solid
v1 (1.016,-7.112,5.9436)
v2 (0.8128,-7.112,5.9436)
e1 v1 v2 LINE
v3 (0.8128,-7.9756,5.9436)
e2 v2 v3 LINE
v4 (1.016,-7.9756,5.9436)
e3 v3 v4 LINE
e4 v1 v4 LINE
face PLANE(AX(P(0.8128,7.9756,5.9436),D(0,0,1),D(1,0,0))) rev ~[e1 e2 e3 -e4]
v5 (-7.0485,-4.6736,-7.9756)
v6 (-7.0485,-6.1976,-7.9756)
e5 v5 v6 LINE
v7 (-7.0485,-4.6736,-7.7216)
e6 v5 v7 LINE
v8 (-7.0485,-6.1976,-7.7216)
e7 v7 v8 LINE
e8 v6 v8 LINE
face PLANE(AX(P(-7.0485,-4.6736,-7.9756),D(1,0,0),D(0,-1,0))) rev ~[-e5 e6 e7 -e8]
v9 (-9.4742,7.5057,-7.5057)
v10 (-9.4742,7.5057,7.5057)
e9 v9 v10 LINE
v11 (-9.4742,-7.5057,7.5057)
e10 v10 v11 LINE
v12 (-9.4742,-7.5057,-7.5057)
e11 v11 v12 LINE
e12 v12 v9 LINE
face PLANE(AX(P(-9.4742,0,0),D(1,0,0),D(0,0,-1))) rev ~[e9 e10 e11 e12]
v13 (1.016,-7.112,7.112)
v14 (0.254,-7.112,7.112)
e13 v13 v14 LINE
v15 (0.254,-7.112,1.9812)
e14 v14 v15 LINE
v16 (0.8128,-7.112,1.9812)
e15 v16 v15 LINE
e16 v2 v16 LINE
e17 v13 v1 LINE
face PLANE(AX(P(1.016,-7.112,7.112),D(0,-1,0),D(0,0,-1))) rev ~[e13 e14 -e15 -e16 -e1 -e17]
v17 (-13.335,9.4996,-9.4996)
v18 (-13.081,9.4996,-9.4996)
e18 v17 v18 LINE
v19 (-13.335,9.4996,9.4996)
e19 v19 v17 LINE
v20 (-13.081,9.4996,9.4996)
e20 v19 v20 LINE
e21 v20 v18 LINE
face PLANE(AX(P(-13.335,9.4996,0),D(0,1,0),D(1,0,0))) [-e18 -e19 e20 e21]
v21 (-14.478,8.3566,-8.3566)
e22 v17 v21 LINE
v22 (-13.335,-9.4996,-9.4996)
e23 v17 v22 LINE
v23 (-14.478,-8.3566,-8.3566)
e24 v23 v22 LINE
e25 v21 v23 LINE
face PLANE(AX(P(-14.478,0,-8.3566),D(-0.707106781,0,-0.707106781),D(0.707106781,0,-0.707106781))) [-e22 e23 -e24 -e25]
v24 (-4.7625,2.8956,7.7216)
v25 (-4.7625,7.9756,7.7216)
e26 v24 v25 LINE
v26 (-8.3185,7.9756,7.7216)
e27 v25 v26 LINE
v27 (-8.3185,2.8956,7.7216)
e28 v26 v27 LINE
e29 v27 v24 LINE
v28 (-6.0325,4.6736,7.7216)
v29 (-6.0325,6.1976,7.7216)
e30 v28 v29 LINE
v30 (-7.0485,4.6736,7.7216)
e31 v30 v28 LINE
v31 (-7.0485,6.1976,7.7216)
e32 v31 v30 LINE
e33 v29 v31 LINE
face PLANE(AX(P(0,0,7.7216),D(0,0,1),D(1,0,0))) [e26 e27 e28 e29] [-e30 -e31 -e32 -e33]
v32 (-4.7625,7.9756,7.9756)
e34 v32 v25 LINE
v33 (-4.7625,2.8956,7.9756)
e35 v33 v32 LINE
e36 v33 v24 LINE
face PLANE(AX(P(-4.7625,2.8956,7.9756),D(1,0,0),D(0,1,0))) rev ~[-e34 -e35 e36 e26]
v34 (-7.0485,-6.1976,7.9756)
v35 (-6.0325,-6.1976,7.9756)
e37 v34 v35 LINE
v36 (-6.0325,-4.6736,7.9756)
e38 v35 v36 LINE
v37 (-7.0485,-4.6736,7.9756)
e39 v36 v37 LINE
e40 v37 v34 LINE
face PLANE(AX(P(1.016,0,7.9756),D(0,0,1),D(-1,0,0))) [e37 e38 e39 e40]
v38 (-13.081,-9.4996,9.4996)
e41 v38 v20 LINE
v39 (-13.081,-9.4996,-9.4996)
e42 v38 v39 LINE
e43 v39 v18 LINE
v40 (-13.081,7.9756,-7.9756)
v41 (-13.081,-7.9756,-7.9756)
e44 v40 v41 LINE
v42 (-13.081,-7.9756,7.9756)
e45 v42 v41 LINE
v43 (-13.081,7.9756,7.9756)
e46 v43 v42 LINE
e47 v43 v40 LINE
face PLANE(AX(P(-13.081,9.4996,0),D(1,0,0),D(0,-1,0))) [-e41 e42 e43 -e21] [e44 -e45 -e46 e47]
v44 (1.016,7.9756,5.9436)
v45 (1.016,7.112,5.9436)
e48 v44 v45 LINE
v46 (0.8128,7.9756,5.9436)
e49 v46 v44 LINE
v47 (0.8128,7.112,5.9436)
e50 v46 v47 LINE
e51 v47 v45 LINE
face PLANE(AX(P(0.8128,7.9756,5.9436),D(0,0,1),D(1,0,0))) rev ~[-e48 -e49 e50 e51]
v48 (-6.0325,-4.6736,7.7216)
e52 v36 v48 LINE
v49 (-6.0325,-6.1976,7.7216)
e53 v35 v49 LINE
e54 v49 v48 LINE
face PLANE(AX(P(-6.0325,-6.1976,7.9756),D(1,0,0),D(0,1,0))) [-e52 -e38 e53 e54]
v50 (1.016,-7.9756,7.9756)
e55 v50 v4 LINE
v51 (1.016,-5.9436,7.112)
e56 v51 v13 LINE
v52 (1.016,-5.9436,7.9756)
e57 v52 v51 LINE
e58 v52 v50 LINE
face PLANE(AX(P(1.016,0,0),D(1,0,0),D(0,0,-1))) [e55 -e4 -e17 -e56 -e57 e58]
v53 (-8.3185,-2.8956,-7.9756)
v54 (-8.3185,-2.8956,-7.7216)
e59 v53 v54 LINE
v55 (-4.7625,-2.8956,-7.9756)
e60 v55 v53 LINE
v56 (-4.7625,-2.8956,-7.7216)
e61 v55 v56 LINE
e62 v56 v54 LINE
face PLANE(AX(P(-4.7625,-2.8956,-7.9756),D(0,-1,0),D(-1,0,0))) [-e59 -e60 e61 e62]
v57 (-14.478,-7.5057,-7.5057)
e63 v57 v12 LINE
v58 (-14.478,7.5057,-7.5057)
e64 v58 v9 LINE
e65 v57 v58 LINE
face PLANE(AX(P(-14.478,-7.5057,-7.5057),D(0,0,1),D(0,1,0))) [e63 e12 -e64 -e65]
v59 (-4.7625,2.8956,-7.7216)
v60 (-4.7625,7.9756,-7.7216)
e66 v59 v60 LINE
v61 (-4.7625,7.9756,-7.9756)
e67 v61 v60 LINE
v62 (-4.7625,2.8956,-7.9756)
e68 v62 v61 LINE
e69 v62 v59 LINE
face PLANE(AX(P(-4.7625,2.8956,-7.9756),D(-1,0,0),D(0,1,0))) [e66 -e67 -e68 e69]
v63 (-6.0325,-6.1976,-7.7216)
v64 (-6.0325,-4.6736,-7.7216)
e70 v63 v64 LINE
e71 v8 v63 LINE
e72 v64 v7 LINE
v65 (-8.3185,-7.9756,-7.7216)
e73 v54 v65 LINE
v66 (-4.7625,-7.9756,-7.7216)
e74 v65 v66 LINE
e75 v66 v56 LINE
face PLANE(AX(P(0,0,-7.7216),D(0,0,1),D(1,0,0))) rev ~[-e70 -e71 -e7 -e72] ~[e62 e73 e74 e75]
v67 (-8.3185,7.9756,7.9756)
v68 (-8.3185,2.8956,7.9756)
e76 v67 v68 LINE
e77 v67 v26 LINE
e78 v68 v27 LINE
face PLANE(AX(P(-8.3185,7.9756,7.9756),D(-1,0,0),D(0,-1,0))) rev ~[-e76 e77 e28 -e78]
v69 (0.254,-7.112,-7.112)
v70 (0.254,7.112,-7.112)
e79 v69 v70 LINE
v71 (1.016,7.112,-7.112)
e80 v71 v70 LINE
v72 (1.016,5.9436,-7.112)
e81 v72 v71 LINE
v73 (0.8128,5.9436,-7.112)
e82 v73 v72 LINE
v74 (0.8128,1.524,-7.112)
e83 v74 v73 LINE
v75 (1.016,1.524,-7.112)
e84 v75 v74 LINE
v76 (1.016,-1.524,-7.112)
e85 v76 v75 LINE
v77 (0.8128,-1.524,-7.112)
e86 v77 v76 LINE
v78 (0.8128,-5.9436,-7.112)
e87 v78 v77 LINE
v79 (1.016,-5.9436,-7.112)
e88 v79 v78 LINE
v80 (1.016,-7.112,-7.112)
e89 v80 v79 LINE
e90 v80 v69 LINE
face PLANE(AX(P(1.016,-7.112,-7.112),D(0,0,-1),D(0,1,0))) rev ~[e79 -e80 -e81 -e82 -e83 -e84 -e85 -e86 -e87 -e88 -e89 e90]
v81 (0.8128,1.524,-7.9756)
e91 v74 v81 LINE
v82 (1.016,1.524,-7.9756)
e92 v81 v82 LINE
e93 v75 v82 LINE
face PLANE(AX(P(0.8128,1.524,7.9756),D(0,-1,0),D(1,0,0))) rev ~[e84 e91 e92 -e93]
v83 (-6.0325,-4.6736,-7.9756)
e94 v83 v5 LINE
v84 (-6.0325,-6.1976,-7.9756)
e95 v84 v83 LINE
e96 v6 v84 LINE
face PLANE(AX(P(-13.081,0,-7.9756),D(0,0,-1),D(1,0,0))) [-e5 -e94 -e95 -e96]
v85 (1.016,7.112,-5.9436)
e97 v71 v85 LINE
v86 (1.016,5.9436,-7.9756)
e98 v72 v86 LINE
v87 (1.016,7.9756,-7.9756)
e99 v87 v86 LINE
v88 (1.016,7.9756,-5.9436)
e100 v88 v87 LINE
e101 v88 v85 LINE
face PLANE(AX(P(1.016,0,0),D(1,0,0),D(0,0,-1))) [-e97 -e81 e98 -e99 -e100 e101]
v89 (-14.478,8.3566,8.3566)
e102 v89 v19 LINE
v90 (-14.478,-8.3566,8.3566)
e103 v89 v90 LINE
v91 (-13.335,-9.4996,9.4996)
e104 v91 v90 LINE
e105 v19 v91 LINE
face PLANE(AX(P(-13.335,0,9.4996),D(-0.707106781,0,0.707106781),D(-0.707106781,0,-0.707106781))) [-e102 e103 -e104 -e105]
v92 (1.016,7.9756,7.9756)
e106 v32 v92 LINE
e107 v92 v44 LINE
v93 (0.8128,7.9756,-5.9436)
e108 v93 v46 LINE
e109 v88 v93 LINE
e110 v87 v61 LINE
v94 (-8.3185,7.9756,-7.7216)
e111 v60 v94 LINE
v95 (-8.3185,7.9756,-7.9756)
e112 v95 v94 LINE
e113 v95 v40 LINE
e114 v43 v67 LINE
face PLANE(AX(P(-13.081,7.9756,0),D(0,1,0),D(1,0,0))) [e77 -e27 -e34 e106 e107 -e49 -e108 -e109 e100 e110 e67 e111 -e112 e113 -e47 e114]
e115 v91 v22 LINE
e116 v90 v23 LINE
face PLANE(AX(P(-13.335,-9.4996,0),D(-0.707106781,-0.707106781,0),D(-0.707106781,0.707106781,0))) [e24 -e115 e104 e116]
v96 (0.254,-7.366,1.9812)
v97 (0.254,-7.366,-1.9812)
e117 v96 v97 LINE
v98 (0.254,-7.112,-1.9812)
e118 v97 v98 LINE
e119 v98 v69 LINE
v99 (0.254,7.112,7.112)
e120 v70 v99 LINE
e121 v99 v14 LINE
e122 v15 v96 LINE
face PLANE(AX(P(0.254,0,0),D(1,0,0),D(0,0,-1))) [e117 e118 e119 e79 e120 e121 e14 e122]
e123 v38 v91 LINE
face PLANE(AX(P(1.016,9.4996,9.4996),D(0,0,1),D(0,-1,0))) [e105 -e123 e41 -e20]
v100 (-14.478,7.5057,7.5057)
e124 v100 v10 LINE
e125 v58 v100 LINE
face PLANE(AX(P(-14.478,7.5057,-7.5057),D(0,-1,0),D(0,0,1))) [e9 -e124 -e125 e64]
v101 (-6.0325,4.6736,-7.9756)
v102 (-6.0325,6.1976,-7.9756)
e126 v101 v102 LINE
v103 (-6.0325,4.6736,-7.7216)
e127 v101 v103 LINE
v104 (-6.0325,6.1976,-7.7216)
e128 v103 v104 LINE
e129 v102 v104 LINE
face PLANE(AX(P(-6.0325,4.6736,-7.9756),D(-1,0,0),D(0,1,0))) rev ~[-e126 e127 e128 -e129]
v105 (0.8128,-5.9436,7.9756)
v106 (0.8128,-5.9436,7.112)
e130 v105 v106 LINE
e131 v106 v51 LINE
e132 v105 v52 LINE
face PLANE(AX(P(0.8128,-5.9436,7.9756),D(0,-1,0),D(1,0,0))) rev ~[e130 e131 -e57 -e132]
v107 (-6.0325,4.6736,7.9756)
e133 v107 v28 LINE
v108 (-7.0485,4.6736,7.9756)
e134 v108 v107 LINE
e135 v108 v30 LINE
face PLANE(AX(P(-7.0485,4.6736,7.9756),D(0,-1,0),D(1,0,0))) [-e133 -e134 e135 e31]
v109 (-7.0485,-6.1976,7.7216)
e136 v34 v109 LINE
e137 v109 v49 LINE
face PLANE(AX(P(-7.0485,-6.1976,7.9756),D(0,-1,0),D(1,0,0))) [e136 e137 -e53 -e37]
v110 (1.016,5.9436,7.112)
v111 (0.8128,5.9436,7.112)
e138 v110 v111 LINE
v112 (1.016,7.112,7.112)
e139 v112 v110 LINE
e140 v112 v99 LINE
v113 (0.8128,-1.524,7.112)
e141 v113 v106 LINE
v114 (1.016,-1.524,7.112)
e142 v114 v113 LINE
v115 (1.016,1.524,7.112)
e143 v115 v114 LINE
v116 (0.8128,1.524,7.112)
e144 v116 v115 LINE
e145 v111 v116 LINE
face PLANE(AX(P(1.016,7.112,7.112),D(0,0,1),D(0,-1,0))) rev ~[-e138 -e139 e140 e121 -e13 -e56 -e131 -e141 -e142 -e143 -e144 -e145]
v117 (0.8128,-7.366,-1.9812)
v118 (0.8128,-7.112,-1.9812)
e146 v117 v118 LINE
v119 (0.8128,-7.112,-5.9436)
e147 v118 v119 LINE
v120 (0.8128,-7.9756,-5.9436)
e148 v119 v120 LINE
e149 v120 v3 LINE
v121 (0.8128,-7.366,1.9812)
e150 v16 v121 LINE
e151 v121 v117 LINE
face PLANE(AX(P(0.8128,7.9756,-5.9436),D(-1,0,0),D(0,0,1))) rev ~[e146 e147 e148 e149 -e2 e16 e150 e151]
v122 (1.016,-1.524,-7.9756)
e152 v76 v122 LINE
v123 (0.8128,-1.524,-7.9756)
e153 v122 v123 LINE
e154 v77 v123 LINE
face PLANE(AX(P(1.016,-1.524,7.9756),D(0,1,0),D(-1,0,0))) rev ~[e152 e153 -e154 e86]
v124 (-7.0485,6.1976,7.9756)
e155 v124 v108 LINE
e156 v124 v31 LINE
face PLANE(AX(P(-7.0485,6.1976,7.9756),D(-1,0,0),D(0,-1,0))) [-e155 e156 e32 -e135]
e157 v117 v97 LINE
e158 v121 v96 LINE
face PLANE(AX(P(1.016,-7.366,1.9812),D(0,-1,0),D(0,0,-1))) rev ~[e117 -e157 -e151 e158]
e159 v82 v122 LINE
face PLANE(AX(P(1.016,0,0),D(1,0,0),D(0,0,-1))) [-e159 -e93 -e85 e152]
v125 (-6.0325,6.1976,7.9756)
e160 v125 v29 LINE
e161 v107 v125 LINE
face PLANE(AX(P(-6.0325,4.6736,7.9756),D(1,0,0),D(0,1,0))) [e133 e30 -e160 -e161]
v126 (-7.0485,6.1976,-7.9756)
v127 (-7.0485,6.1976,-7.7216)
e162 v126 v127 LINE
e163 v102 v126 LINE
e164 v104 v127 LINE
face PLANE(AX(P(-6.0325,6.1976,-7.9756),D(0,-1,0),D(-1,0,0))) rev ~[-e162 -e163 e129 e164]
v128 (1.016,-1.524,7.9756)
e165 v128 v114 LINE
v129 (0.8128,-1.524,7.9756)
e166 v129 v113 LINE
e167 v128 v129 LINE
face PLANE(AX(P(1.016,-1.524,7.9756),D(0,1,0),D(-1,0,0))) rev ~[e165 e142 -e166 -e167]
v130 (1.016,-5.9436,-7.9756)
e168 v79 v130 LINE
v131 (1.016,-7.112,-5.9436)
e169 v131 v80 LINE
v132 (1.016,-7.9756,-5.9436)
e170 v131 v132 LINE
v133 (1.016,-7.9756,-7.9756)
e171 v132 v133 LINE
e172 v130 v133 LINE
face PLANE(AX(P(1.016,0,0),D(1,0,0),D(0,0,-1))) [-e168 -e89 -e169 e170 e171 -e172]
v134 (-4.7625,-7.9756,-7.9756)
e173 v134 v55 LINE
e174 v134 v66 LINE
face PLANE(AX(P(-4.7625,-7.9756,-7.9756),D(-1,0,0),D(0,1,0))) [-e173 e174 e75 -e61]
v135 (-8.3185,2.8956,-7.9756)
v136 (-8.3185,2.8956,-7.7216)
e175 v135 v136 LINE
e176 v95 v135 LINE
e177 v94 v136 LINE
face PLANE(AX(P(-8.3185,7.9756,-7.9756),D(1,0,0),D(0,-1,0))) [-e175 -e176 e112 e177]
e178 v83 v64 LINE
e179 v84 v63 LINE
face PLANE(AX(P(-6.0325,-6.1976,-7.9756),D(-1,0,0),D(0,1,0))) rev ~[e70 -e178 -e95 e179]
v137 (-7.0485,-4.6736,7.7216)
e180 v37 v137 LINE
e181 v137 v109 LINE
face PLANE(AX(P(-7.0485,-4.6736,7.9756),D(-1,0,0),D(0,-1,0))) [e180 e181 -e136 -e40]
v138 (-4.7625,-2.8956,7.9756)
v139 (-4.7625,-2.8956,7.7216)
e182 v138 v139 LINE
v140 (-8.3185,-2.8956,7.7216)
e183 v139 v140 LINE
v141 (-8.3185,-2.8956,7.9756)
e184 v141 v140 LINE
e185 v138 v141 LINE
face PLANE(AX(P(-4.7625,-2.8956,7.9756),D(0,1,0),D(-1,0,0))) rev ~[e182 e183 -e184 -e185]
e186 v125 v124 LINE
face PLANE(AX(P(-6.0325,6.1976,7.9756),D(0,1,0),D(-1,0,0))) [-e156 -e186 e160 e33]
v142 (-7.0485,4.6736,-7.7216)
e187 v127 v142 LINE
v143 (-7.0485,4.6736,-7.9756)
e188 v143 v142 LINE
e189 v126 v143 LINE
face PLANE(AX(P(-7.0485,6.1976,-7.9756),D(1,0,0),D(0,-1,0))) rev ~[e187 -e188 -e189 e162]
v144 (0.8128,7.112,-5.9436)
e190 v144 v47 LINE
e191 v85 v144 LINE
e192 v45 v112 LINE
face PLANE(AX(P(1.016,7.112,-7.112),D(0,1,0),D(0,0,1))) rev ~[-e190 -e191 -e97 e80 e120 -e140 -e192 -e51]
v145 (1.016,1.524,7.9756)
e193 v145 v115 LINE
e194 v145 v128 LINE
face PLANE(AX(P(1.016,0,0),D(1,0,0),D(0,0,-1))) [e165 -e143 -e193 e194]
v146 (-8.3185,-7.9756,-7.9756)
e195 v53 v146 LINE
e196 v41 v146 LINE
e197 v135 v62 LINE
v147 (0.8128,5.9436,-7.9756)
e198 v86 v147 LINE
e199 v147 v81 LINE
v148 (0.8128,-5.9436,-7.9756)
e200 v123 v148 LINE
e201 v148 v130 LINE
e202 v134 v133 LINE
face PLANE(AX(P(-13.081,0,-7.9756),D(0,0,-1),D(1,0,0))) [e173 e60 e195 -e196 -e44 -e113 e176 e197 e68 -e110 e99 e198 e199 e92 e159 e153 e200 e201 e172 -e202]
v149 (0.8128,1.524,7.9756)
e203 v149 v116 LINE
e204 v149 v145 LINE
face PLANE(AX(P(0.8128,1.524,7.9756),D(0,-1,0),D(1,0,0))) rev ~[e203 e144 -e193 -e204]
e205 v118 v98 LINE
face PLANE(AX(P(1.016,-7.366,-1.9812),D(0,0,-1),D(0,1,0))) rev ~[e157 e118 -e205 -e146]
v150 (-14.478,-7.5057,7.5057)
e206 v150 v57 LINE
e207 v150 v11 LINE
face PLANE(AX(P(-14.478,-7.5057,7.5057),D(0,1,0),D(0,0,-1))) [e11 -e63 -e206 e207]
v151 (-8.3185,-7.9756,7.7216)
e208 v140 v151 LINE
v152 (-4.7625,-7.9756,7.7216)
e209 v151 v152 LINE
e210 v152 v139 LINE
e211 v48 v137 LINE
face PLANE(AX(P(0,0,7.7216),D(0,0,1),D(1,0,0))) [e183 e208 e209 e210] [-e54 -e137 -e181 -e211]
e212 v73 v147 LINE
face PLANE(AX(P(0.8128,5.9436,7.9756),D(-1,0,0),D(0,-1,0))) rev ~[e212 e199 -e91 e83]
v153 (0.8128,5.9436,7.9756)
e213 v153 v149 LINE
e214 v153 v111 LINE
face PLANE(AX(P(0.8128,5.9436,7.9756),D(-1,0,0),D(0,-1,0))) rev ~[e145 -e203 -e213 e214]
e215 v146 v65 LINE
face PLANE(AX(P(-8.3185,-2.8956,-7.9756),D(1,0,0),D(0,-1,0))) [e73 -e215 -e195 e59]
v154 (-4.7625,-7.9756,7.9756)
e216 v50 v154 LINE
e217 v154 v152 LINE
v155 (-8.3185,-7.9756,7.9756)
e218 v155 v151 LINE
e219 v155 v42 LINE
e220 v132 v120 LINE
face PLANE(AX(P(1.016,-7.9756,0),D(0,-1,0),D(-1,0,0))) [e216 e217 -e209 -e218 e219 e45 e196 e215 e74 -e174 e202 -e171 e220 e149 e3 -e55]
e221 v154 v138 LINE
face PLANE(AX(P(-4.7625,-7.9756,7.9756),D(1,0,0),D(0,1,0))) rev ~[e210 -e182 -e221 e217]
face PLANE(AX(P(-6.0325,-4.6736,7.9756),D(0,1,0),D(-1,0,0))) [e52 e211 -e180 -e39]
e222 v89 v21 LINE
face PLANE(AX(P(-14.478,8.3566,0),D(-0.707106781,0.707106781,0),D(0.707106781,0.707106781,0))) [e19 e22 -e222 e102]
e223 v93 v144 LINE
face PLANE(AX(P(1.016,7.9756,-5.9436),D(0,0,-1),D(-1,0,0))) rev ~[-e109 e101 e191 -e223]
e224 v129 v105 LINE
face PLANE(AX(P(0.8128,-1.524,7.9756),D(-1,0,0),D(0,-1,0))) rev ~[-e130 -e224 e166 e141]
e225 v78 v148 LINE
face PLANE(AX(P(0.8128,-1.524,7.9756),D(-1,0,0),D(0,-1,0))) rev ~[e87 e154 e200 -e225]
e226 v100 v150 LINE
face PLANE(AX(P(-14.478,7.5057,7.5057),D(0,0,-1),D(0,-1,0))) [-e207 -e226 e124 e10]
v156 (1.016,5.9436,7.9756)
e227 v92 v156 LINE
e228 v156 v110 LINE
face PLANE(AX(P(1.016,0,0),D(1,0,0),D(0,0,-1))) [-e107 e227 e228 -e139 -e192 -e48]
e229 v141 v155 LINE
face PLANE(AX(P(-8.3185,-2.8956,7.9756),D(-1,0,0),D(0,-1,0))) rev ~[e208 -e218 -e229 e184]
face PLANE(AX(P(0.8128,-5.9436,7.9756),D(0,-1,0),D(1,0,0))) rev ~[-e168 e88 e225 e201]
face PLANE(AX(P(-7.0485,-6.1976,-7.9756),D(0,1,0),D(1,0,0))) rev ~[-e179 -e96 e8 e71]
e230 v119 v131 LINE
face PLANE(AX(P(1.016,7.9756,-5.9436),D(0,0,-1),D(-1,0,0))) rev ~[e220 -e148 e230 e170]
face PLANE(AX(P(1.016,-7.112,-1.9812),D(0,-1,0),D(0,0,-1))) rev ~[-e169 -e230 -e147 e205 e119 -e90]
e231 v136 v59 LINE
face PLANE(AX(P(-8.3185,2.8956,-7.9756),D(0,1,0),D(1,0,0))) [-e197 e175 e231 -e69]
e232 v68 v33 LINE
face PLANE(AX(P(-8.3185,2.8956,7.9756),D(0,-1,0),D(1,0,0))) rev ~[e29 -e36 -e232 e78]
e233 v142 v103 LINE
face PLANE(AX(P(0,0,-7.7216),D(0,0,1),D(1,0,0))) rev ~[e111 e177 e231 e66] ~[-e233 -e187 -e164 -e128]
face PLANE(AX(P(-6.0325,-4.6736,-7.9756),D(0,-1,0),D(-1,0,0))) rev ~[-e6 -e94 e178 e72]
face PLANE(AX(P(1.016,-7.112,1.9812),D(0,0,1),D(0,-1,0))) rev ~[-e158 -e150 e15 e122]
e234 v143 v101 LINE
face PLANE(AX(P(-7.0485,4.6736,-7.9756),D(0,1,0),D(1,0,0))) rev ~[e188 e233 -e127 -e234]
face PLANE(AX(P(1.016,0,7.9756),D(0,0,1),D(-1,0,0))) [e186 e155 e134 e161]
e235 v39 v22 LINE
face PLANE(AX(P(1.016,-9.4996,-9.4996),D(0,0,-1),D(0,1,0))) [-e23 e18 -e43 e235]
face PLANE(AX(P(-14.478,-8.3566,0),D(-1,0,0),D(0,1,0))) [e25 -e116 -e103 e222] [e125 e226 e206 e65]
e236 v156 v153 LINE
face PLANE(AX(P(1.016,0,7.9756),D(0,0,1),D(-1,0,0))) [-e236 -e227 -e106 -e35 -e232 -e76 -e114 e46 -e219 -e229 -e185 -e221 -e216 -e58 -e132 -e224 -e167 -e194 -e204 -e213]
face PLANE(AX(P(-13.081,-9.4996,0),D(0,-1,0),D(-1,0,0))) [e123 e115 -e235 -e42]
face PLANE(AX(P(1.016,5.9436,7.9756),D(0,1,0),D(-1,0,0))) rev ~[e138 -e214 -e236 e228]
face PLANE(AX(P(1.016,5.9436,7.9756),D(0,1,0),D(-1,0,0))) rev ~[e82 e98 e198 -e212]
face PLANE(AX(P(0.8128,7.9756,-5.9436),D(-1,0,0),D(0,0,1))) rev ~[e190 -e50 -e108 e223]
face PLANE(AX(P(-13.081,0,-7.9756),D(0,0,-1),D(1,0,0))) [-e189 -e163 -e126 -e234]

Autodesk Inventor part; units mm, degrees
sketch "Sketch_11" plane through (1.016, 0, 0) normal (1, 0, 0) x (0, 0, -1)
  line L0 (-9.4996, 9.4996) -> (-9.4996, -9.4996)
  line L1 (-9.4996, -9.4996) -> (9.4996, -9.4996)
  line L2 (9.4996, -9.4996) -> (9.4996, 9.4996)
  line L3 (9.4996, 9.4996) -> (-9.4996, 9.4996)
extrude "Extrusion1" add sketch "Sketch_11" against normal blind 15.494
sketch "Sketch_12" plane through (0, 0, 0) normal (0, 0, 1) x (1, 0, 0)
  line L0 (-20.32, 12.8016) -> (-20.32, -12.8016)
  line L1 (-20.32, -12.8016) -> (1.016, -12.8016)
  line L2 (1.016, -12.8016) -> (1.016, -7.9756)
  line L3 (1.016, -7.9756) -> (-13.081, -7.9756)
  line L4 (-13.081, -7.9756) -> (-13.081, -9.4996)
  line L5 (-13.081, -9.4996) -> (-13.335, -9.4996)
  line L6 (-13.335, -9.4996) -> (-14.478, -8.3566)
  line L7 (-14.478, -8.3566) -> (-14.478, 8.3566)
  line L8 (-14.478, 8.3566) -> (-13.335, 9.4996)
  line L9 (-13.335, 9.4996) -> (-13.081, 9.4996)
  line L10 (-13.081, 9.4996) -> (-13.081, 7.9756)
  line L11 (-13.081, 7.9756) -> (1.016, 7.9756)
  line L12 (1.016, 7.9756) -> (1.016, 12.8016)
  line L13 (1.016, 12.8016) -> (-20.32, 12.8016)
extrude "Extrusion2" cut sketch "Sketch_12" along normal mid plane 18.9992
sketch "Sketch_13" plane through (0, 0, 0) normal (0, 1, 0) x (-1, 0, 0)
  line L0 (20.32, -12.8016) -> (20.32, 12.8016)
  line L1 (20.32, 12.8016) -> (-1.016, 12.8016)
  line L2 (-1.016, 12.8016) -> (-1.016, 7.9756)
  line L3 (-1.016, 7.9756) -> (13.081, 7.9756)
  line L4 (13.081, 7.9756) -> (13.081, 9.4996)
  line L5 (13.081, 9.4996) -> (13.335, 9.4996)
  line L6 (13.335, 9.4996) -> (14.478, 8.3566)
  line L7 (14.478, 8.3566) -> (14.478, -8.3566)
  line L8 (14.478, -8.3566) -> (13.335, -9.4996)
  line L9 (13.335, -9.4996) -> (13.081, -9.4996)
  line L10 (13.081, -9.4996) -> (13.081, -7.9756)
  line L11 (13.081, -7.9756) -> (-1.016, -7.9756)
  line L12 (-1.016, -7.9756) -> (-1.016, -12.8016)
  line L13 (-1.016, -12.8016) -> (20.32, -12.8016)
extrude "Extrusion3" cut sketch "Sketch_13" along normal mid plane 18.9992
sketch "Sketch_14" plane through (1.016, 0, 0) normal (1, 0, 0) x (0, 0, -1)
  line L0 (-7.112, -7.112) -> (-1.9812, -7.112)
  line L1 (-1.9812, -7.112) -> (-1.9812, -7.366)
  line L2 (-1.9812, -7.366) -> (1.9812, -7.366)
  line L3 (1.9812, -7.366) -> (1.9812, -7.112)
  line L4 (1.9812, -7.112) -> (7.112, -7.112)
  line L5 (7.112, -7.112) -> (7.112, 7.112)
  line L6 (7.112, 7.112) -> (-7.112, 7.112)
  line L7 (-7.112, 7.112) -> (-7.112, -7.112)
extrude "Extrusion4" cut sketch "Sketch_14" against normal blind 0.762
sketch "Sketch_15" plane through (0, 0, 7.9756) normal (0, 0, 1) x (1, 0, 0)
  line L0 (0.8128, 5.9436) -> (0.8128, 1.524)
  line L1 (0.8128, 1.524) -> (1.016, 1.524)
  line L2 (1.016, 1.524) -> (1.016, 5.9436)
  line L3 (1.016, 5.9436) -> (0.8128, 5.9436)
extrude "Extrusion5" cut sketch "Sketch_15" against normal blind 15.9512
sketch "Sketch_16" plane through (0, 0, 7.9756) normal (0, 0, 1) x (1, 0, 0)
  line L0 (0.8128, -5.9436) -> (1.016, -5.9436)
  line L1 (1.016, -5.9436) -> (1.016, -1.524)
  line L2 (1.016, -1.524) -> (0.8128, -1.524)
  line L3 (0.8128, -1.524) -> (0.8128, -5.9436)
extrude "Extrusion6" cut sketch "Sketch_16" against normal blind 15.9512
sketch "Sketch_17" plane through (0, 7.9756, 0) normal (0, 1, 0) x (1, 0, 0)
  line L0 (0.8128, 5.9436) -> (0.8128, -5.9436)
  line L1 (0.8128, -5.9436) -> (1.016, -5.9436)
  line L2 (1.016, -5.9436) -> (1.016, 5.9436)
  line L3 (1.016, 5.9436) -> (0.8128, 5.9436)
extrude "Extrusion7" cut sketch "Sketch_17" against normal blind 15.9512
sketch "Sketch_48" plane through (0, 0, 7.9756) normal (0, 0, 1) x (1, 0, 0)
  line L0 (-8.3185, 7.9756) -> (-8.3185, 2.8956)
  line L1 (-8.3185, 2.8956) -> (-4.7625, 2.8956)
  line L2 (-4.7625, 2.8956) -> (-4.7625, 7.9756)
  line L3 (-4.7625, 7.9756) -> (-8.3185, 7.9756)
  line L4 (-7.0485, 6.1976) -> (-7.0485, 4.6736)
  line L5 (-7.0485, 4.6736) -> (-6.0325, 4.6736)
  line L6 (-6.0325, 4.6736) -> (-6.0325, 6.1976)
  line L7 (-6.0325, 6.1976) -> (-7.0485, 6.1976)
extrude "Extrusion8" cut sketch "Sketch_48" against normal blind 0.254
sketch "Sketch_50" plane through (0, 0, 7.9756) normal (0, 0, 1) x (1, 0, 0)
  line L0 (-8.3185, -7.9756) -> (-4.7625, -7.9756)
  line L1 (-4.7625, -7.9756) -> (-4.7625, -2.8956)
  line L2 (-4.7625, -2.8956) -> (-8.3185, -2.8956)
  line L3 (-8.3185, -2.8956) -> (-8.3185, -7.9756)
  line L4 (-7.0485, -6.1976) -> (-6.0325, -6.1976)
  line L5 (-6.0325, -6.1976) -> (-6.0325, -4.6736)
  line L6 (-6.0325, -4.6736) -> (-7.0485, -4.6736)
  line L7 (-7.0485, -4.6736) -> (-7.0485, -6.1976)
extrude "Extrusion9" cut sketch "Sketch_50" against normal blind 0.254
sketch "Sketch_51" plane through (0, 0, -7.9756) normal (0, 0, 1) x (1, 0, 0)
  line L0 (-8.3185, 7.9756) -> (-8.3185, 2.8956)
  line L1 (-8.3185, 2.8956) -> (-4.7625, 2.8956)
  line L2 (-4.7625, 2.8956) -> (-4.7625, 7.9756)
  line L3 (-4.7625, 7.9756) -> (-8.3185, 7.9756)
  line L4 (-7.0485, 6.1976) -> (-7.0485, 4.6736)
  line L5 (-7.0485, 4.6736) -> (-6.0325, 4.6736)
  line L6 (-6.0325, 4.6736) -> (-6.0325, 6.1976)
  line L7 (-6.0325, 6.1976) -> (-7.0485, 6.1976)
extrude "Extrusion10" cut sketch "Sketch_51" along normal blind 0.254
sketch "Sketch_52" plane through (0, 0, -7.9756) normal (0, 0, 1) x (1, 0, 0)
  line L0 (-8.3185, -7.9756) -> (-4.7625, -7.9756)
  line L1 (-4.7625, -7.9756) -> (-4.7625, -2.8956)
  line L2 (-4.7625, -2.8956) -> (-8.3185, -2.8956)
  line L3 (-8.3185, -2.8956) -> (-8.3185, -7.9756)
  line L4 (-7.0485, -6.1976) -> (-6.0325, -6.1976)
  line L5 (-6.0325, -6.1976) -> (-6.0325, -4.6736)
  line L6 (-6.0325, -4.6736) -> (-7.0485, -4.6736)
  line L7 (-7.0485, -4.6736) -> (-7.0485, -6.1976)
extrude "Extrusion11" cut sketch "Sketch_52" along normal blind 0.254
sketch "Sketch_21" plane through (-14.478, 0, 0) normal (1, 0, 0) x (0, 0, -1)
  line L0 (-7.5057, -7.5057) -> (7.5057, -7.5057)
  line L1 (7.5057, -7.5057) -> (7.5057, 7.5057)
  line L2 (7.5057, 7.5057) -> (-7.5057, 7.5057)
  line L3 (-7.5057, 7.5057) -> (-7.5057, -7.5057)
extrude "Extrusion12" cut sketch "Sketch_21" along normal blind 5.0038
ref_plane "body_to_diffuser_kk23_XY" through (-11.8872, 0, 0) normal (1, 0, 0) x (0, 0, -1)
ref_plane "body_to_diffuser_kk23_YZ" through (-11.8872, 0, 0) normal (0, 0, -1) x (0, 1, 0)
ref_plane "body_to_diffuser_kk23_ZX" through (-11.8872, 0, 0) normal (0, 1, 0) x (1, 0, 0)
ref_plane "body_to_metal_XY" through (-0.508, 0, 0) normal (-1, 0, 0) x (0, 0, -1)
ref_plane "body_to_metal_YZ" through (-0.508, 0, 0) normal (0, 0, -1) x (0, -1, 0)
ref_plane "body_to_metal_ZX" through (-0.508, 0, 0) normal (0, -1, 0) x (-1, 0, 0)
ref_plane "body_to_pole_XY" through (-0.508, 0, 0) normal (-1, 0, 0) x (0, 0, -1)
ref_plane "body_to_pole_YZ" through (-0.508, 0, 0) normal (0, 0, -1) x (0, -1, 0)
ref_plane "body_to_pole_ZX" through (-0.508, 0, 0) normal (0, -1, 0) x (-1, 0, 0)
properties part number "UB216KKW015C-NR"
